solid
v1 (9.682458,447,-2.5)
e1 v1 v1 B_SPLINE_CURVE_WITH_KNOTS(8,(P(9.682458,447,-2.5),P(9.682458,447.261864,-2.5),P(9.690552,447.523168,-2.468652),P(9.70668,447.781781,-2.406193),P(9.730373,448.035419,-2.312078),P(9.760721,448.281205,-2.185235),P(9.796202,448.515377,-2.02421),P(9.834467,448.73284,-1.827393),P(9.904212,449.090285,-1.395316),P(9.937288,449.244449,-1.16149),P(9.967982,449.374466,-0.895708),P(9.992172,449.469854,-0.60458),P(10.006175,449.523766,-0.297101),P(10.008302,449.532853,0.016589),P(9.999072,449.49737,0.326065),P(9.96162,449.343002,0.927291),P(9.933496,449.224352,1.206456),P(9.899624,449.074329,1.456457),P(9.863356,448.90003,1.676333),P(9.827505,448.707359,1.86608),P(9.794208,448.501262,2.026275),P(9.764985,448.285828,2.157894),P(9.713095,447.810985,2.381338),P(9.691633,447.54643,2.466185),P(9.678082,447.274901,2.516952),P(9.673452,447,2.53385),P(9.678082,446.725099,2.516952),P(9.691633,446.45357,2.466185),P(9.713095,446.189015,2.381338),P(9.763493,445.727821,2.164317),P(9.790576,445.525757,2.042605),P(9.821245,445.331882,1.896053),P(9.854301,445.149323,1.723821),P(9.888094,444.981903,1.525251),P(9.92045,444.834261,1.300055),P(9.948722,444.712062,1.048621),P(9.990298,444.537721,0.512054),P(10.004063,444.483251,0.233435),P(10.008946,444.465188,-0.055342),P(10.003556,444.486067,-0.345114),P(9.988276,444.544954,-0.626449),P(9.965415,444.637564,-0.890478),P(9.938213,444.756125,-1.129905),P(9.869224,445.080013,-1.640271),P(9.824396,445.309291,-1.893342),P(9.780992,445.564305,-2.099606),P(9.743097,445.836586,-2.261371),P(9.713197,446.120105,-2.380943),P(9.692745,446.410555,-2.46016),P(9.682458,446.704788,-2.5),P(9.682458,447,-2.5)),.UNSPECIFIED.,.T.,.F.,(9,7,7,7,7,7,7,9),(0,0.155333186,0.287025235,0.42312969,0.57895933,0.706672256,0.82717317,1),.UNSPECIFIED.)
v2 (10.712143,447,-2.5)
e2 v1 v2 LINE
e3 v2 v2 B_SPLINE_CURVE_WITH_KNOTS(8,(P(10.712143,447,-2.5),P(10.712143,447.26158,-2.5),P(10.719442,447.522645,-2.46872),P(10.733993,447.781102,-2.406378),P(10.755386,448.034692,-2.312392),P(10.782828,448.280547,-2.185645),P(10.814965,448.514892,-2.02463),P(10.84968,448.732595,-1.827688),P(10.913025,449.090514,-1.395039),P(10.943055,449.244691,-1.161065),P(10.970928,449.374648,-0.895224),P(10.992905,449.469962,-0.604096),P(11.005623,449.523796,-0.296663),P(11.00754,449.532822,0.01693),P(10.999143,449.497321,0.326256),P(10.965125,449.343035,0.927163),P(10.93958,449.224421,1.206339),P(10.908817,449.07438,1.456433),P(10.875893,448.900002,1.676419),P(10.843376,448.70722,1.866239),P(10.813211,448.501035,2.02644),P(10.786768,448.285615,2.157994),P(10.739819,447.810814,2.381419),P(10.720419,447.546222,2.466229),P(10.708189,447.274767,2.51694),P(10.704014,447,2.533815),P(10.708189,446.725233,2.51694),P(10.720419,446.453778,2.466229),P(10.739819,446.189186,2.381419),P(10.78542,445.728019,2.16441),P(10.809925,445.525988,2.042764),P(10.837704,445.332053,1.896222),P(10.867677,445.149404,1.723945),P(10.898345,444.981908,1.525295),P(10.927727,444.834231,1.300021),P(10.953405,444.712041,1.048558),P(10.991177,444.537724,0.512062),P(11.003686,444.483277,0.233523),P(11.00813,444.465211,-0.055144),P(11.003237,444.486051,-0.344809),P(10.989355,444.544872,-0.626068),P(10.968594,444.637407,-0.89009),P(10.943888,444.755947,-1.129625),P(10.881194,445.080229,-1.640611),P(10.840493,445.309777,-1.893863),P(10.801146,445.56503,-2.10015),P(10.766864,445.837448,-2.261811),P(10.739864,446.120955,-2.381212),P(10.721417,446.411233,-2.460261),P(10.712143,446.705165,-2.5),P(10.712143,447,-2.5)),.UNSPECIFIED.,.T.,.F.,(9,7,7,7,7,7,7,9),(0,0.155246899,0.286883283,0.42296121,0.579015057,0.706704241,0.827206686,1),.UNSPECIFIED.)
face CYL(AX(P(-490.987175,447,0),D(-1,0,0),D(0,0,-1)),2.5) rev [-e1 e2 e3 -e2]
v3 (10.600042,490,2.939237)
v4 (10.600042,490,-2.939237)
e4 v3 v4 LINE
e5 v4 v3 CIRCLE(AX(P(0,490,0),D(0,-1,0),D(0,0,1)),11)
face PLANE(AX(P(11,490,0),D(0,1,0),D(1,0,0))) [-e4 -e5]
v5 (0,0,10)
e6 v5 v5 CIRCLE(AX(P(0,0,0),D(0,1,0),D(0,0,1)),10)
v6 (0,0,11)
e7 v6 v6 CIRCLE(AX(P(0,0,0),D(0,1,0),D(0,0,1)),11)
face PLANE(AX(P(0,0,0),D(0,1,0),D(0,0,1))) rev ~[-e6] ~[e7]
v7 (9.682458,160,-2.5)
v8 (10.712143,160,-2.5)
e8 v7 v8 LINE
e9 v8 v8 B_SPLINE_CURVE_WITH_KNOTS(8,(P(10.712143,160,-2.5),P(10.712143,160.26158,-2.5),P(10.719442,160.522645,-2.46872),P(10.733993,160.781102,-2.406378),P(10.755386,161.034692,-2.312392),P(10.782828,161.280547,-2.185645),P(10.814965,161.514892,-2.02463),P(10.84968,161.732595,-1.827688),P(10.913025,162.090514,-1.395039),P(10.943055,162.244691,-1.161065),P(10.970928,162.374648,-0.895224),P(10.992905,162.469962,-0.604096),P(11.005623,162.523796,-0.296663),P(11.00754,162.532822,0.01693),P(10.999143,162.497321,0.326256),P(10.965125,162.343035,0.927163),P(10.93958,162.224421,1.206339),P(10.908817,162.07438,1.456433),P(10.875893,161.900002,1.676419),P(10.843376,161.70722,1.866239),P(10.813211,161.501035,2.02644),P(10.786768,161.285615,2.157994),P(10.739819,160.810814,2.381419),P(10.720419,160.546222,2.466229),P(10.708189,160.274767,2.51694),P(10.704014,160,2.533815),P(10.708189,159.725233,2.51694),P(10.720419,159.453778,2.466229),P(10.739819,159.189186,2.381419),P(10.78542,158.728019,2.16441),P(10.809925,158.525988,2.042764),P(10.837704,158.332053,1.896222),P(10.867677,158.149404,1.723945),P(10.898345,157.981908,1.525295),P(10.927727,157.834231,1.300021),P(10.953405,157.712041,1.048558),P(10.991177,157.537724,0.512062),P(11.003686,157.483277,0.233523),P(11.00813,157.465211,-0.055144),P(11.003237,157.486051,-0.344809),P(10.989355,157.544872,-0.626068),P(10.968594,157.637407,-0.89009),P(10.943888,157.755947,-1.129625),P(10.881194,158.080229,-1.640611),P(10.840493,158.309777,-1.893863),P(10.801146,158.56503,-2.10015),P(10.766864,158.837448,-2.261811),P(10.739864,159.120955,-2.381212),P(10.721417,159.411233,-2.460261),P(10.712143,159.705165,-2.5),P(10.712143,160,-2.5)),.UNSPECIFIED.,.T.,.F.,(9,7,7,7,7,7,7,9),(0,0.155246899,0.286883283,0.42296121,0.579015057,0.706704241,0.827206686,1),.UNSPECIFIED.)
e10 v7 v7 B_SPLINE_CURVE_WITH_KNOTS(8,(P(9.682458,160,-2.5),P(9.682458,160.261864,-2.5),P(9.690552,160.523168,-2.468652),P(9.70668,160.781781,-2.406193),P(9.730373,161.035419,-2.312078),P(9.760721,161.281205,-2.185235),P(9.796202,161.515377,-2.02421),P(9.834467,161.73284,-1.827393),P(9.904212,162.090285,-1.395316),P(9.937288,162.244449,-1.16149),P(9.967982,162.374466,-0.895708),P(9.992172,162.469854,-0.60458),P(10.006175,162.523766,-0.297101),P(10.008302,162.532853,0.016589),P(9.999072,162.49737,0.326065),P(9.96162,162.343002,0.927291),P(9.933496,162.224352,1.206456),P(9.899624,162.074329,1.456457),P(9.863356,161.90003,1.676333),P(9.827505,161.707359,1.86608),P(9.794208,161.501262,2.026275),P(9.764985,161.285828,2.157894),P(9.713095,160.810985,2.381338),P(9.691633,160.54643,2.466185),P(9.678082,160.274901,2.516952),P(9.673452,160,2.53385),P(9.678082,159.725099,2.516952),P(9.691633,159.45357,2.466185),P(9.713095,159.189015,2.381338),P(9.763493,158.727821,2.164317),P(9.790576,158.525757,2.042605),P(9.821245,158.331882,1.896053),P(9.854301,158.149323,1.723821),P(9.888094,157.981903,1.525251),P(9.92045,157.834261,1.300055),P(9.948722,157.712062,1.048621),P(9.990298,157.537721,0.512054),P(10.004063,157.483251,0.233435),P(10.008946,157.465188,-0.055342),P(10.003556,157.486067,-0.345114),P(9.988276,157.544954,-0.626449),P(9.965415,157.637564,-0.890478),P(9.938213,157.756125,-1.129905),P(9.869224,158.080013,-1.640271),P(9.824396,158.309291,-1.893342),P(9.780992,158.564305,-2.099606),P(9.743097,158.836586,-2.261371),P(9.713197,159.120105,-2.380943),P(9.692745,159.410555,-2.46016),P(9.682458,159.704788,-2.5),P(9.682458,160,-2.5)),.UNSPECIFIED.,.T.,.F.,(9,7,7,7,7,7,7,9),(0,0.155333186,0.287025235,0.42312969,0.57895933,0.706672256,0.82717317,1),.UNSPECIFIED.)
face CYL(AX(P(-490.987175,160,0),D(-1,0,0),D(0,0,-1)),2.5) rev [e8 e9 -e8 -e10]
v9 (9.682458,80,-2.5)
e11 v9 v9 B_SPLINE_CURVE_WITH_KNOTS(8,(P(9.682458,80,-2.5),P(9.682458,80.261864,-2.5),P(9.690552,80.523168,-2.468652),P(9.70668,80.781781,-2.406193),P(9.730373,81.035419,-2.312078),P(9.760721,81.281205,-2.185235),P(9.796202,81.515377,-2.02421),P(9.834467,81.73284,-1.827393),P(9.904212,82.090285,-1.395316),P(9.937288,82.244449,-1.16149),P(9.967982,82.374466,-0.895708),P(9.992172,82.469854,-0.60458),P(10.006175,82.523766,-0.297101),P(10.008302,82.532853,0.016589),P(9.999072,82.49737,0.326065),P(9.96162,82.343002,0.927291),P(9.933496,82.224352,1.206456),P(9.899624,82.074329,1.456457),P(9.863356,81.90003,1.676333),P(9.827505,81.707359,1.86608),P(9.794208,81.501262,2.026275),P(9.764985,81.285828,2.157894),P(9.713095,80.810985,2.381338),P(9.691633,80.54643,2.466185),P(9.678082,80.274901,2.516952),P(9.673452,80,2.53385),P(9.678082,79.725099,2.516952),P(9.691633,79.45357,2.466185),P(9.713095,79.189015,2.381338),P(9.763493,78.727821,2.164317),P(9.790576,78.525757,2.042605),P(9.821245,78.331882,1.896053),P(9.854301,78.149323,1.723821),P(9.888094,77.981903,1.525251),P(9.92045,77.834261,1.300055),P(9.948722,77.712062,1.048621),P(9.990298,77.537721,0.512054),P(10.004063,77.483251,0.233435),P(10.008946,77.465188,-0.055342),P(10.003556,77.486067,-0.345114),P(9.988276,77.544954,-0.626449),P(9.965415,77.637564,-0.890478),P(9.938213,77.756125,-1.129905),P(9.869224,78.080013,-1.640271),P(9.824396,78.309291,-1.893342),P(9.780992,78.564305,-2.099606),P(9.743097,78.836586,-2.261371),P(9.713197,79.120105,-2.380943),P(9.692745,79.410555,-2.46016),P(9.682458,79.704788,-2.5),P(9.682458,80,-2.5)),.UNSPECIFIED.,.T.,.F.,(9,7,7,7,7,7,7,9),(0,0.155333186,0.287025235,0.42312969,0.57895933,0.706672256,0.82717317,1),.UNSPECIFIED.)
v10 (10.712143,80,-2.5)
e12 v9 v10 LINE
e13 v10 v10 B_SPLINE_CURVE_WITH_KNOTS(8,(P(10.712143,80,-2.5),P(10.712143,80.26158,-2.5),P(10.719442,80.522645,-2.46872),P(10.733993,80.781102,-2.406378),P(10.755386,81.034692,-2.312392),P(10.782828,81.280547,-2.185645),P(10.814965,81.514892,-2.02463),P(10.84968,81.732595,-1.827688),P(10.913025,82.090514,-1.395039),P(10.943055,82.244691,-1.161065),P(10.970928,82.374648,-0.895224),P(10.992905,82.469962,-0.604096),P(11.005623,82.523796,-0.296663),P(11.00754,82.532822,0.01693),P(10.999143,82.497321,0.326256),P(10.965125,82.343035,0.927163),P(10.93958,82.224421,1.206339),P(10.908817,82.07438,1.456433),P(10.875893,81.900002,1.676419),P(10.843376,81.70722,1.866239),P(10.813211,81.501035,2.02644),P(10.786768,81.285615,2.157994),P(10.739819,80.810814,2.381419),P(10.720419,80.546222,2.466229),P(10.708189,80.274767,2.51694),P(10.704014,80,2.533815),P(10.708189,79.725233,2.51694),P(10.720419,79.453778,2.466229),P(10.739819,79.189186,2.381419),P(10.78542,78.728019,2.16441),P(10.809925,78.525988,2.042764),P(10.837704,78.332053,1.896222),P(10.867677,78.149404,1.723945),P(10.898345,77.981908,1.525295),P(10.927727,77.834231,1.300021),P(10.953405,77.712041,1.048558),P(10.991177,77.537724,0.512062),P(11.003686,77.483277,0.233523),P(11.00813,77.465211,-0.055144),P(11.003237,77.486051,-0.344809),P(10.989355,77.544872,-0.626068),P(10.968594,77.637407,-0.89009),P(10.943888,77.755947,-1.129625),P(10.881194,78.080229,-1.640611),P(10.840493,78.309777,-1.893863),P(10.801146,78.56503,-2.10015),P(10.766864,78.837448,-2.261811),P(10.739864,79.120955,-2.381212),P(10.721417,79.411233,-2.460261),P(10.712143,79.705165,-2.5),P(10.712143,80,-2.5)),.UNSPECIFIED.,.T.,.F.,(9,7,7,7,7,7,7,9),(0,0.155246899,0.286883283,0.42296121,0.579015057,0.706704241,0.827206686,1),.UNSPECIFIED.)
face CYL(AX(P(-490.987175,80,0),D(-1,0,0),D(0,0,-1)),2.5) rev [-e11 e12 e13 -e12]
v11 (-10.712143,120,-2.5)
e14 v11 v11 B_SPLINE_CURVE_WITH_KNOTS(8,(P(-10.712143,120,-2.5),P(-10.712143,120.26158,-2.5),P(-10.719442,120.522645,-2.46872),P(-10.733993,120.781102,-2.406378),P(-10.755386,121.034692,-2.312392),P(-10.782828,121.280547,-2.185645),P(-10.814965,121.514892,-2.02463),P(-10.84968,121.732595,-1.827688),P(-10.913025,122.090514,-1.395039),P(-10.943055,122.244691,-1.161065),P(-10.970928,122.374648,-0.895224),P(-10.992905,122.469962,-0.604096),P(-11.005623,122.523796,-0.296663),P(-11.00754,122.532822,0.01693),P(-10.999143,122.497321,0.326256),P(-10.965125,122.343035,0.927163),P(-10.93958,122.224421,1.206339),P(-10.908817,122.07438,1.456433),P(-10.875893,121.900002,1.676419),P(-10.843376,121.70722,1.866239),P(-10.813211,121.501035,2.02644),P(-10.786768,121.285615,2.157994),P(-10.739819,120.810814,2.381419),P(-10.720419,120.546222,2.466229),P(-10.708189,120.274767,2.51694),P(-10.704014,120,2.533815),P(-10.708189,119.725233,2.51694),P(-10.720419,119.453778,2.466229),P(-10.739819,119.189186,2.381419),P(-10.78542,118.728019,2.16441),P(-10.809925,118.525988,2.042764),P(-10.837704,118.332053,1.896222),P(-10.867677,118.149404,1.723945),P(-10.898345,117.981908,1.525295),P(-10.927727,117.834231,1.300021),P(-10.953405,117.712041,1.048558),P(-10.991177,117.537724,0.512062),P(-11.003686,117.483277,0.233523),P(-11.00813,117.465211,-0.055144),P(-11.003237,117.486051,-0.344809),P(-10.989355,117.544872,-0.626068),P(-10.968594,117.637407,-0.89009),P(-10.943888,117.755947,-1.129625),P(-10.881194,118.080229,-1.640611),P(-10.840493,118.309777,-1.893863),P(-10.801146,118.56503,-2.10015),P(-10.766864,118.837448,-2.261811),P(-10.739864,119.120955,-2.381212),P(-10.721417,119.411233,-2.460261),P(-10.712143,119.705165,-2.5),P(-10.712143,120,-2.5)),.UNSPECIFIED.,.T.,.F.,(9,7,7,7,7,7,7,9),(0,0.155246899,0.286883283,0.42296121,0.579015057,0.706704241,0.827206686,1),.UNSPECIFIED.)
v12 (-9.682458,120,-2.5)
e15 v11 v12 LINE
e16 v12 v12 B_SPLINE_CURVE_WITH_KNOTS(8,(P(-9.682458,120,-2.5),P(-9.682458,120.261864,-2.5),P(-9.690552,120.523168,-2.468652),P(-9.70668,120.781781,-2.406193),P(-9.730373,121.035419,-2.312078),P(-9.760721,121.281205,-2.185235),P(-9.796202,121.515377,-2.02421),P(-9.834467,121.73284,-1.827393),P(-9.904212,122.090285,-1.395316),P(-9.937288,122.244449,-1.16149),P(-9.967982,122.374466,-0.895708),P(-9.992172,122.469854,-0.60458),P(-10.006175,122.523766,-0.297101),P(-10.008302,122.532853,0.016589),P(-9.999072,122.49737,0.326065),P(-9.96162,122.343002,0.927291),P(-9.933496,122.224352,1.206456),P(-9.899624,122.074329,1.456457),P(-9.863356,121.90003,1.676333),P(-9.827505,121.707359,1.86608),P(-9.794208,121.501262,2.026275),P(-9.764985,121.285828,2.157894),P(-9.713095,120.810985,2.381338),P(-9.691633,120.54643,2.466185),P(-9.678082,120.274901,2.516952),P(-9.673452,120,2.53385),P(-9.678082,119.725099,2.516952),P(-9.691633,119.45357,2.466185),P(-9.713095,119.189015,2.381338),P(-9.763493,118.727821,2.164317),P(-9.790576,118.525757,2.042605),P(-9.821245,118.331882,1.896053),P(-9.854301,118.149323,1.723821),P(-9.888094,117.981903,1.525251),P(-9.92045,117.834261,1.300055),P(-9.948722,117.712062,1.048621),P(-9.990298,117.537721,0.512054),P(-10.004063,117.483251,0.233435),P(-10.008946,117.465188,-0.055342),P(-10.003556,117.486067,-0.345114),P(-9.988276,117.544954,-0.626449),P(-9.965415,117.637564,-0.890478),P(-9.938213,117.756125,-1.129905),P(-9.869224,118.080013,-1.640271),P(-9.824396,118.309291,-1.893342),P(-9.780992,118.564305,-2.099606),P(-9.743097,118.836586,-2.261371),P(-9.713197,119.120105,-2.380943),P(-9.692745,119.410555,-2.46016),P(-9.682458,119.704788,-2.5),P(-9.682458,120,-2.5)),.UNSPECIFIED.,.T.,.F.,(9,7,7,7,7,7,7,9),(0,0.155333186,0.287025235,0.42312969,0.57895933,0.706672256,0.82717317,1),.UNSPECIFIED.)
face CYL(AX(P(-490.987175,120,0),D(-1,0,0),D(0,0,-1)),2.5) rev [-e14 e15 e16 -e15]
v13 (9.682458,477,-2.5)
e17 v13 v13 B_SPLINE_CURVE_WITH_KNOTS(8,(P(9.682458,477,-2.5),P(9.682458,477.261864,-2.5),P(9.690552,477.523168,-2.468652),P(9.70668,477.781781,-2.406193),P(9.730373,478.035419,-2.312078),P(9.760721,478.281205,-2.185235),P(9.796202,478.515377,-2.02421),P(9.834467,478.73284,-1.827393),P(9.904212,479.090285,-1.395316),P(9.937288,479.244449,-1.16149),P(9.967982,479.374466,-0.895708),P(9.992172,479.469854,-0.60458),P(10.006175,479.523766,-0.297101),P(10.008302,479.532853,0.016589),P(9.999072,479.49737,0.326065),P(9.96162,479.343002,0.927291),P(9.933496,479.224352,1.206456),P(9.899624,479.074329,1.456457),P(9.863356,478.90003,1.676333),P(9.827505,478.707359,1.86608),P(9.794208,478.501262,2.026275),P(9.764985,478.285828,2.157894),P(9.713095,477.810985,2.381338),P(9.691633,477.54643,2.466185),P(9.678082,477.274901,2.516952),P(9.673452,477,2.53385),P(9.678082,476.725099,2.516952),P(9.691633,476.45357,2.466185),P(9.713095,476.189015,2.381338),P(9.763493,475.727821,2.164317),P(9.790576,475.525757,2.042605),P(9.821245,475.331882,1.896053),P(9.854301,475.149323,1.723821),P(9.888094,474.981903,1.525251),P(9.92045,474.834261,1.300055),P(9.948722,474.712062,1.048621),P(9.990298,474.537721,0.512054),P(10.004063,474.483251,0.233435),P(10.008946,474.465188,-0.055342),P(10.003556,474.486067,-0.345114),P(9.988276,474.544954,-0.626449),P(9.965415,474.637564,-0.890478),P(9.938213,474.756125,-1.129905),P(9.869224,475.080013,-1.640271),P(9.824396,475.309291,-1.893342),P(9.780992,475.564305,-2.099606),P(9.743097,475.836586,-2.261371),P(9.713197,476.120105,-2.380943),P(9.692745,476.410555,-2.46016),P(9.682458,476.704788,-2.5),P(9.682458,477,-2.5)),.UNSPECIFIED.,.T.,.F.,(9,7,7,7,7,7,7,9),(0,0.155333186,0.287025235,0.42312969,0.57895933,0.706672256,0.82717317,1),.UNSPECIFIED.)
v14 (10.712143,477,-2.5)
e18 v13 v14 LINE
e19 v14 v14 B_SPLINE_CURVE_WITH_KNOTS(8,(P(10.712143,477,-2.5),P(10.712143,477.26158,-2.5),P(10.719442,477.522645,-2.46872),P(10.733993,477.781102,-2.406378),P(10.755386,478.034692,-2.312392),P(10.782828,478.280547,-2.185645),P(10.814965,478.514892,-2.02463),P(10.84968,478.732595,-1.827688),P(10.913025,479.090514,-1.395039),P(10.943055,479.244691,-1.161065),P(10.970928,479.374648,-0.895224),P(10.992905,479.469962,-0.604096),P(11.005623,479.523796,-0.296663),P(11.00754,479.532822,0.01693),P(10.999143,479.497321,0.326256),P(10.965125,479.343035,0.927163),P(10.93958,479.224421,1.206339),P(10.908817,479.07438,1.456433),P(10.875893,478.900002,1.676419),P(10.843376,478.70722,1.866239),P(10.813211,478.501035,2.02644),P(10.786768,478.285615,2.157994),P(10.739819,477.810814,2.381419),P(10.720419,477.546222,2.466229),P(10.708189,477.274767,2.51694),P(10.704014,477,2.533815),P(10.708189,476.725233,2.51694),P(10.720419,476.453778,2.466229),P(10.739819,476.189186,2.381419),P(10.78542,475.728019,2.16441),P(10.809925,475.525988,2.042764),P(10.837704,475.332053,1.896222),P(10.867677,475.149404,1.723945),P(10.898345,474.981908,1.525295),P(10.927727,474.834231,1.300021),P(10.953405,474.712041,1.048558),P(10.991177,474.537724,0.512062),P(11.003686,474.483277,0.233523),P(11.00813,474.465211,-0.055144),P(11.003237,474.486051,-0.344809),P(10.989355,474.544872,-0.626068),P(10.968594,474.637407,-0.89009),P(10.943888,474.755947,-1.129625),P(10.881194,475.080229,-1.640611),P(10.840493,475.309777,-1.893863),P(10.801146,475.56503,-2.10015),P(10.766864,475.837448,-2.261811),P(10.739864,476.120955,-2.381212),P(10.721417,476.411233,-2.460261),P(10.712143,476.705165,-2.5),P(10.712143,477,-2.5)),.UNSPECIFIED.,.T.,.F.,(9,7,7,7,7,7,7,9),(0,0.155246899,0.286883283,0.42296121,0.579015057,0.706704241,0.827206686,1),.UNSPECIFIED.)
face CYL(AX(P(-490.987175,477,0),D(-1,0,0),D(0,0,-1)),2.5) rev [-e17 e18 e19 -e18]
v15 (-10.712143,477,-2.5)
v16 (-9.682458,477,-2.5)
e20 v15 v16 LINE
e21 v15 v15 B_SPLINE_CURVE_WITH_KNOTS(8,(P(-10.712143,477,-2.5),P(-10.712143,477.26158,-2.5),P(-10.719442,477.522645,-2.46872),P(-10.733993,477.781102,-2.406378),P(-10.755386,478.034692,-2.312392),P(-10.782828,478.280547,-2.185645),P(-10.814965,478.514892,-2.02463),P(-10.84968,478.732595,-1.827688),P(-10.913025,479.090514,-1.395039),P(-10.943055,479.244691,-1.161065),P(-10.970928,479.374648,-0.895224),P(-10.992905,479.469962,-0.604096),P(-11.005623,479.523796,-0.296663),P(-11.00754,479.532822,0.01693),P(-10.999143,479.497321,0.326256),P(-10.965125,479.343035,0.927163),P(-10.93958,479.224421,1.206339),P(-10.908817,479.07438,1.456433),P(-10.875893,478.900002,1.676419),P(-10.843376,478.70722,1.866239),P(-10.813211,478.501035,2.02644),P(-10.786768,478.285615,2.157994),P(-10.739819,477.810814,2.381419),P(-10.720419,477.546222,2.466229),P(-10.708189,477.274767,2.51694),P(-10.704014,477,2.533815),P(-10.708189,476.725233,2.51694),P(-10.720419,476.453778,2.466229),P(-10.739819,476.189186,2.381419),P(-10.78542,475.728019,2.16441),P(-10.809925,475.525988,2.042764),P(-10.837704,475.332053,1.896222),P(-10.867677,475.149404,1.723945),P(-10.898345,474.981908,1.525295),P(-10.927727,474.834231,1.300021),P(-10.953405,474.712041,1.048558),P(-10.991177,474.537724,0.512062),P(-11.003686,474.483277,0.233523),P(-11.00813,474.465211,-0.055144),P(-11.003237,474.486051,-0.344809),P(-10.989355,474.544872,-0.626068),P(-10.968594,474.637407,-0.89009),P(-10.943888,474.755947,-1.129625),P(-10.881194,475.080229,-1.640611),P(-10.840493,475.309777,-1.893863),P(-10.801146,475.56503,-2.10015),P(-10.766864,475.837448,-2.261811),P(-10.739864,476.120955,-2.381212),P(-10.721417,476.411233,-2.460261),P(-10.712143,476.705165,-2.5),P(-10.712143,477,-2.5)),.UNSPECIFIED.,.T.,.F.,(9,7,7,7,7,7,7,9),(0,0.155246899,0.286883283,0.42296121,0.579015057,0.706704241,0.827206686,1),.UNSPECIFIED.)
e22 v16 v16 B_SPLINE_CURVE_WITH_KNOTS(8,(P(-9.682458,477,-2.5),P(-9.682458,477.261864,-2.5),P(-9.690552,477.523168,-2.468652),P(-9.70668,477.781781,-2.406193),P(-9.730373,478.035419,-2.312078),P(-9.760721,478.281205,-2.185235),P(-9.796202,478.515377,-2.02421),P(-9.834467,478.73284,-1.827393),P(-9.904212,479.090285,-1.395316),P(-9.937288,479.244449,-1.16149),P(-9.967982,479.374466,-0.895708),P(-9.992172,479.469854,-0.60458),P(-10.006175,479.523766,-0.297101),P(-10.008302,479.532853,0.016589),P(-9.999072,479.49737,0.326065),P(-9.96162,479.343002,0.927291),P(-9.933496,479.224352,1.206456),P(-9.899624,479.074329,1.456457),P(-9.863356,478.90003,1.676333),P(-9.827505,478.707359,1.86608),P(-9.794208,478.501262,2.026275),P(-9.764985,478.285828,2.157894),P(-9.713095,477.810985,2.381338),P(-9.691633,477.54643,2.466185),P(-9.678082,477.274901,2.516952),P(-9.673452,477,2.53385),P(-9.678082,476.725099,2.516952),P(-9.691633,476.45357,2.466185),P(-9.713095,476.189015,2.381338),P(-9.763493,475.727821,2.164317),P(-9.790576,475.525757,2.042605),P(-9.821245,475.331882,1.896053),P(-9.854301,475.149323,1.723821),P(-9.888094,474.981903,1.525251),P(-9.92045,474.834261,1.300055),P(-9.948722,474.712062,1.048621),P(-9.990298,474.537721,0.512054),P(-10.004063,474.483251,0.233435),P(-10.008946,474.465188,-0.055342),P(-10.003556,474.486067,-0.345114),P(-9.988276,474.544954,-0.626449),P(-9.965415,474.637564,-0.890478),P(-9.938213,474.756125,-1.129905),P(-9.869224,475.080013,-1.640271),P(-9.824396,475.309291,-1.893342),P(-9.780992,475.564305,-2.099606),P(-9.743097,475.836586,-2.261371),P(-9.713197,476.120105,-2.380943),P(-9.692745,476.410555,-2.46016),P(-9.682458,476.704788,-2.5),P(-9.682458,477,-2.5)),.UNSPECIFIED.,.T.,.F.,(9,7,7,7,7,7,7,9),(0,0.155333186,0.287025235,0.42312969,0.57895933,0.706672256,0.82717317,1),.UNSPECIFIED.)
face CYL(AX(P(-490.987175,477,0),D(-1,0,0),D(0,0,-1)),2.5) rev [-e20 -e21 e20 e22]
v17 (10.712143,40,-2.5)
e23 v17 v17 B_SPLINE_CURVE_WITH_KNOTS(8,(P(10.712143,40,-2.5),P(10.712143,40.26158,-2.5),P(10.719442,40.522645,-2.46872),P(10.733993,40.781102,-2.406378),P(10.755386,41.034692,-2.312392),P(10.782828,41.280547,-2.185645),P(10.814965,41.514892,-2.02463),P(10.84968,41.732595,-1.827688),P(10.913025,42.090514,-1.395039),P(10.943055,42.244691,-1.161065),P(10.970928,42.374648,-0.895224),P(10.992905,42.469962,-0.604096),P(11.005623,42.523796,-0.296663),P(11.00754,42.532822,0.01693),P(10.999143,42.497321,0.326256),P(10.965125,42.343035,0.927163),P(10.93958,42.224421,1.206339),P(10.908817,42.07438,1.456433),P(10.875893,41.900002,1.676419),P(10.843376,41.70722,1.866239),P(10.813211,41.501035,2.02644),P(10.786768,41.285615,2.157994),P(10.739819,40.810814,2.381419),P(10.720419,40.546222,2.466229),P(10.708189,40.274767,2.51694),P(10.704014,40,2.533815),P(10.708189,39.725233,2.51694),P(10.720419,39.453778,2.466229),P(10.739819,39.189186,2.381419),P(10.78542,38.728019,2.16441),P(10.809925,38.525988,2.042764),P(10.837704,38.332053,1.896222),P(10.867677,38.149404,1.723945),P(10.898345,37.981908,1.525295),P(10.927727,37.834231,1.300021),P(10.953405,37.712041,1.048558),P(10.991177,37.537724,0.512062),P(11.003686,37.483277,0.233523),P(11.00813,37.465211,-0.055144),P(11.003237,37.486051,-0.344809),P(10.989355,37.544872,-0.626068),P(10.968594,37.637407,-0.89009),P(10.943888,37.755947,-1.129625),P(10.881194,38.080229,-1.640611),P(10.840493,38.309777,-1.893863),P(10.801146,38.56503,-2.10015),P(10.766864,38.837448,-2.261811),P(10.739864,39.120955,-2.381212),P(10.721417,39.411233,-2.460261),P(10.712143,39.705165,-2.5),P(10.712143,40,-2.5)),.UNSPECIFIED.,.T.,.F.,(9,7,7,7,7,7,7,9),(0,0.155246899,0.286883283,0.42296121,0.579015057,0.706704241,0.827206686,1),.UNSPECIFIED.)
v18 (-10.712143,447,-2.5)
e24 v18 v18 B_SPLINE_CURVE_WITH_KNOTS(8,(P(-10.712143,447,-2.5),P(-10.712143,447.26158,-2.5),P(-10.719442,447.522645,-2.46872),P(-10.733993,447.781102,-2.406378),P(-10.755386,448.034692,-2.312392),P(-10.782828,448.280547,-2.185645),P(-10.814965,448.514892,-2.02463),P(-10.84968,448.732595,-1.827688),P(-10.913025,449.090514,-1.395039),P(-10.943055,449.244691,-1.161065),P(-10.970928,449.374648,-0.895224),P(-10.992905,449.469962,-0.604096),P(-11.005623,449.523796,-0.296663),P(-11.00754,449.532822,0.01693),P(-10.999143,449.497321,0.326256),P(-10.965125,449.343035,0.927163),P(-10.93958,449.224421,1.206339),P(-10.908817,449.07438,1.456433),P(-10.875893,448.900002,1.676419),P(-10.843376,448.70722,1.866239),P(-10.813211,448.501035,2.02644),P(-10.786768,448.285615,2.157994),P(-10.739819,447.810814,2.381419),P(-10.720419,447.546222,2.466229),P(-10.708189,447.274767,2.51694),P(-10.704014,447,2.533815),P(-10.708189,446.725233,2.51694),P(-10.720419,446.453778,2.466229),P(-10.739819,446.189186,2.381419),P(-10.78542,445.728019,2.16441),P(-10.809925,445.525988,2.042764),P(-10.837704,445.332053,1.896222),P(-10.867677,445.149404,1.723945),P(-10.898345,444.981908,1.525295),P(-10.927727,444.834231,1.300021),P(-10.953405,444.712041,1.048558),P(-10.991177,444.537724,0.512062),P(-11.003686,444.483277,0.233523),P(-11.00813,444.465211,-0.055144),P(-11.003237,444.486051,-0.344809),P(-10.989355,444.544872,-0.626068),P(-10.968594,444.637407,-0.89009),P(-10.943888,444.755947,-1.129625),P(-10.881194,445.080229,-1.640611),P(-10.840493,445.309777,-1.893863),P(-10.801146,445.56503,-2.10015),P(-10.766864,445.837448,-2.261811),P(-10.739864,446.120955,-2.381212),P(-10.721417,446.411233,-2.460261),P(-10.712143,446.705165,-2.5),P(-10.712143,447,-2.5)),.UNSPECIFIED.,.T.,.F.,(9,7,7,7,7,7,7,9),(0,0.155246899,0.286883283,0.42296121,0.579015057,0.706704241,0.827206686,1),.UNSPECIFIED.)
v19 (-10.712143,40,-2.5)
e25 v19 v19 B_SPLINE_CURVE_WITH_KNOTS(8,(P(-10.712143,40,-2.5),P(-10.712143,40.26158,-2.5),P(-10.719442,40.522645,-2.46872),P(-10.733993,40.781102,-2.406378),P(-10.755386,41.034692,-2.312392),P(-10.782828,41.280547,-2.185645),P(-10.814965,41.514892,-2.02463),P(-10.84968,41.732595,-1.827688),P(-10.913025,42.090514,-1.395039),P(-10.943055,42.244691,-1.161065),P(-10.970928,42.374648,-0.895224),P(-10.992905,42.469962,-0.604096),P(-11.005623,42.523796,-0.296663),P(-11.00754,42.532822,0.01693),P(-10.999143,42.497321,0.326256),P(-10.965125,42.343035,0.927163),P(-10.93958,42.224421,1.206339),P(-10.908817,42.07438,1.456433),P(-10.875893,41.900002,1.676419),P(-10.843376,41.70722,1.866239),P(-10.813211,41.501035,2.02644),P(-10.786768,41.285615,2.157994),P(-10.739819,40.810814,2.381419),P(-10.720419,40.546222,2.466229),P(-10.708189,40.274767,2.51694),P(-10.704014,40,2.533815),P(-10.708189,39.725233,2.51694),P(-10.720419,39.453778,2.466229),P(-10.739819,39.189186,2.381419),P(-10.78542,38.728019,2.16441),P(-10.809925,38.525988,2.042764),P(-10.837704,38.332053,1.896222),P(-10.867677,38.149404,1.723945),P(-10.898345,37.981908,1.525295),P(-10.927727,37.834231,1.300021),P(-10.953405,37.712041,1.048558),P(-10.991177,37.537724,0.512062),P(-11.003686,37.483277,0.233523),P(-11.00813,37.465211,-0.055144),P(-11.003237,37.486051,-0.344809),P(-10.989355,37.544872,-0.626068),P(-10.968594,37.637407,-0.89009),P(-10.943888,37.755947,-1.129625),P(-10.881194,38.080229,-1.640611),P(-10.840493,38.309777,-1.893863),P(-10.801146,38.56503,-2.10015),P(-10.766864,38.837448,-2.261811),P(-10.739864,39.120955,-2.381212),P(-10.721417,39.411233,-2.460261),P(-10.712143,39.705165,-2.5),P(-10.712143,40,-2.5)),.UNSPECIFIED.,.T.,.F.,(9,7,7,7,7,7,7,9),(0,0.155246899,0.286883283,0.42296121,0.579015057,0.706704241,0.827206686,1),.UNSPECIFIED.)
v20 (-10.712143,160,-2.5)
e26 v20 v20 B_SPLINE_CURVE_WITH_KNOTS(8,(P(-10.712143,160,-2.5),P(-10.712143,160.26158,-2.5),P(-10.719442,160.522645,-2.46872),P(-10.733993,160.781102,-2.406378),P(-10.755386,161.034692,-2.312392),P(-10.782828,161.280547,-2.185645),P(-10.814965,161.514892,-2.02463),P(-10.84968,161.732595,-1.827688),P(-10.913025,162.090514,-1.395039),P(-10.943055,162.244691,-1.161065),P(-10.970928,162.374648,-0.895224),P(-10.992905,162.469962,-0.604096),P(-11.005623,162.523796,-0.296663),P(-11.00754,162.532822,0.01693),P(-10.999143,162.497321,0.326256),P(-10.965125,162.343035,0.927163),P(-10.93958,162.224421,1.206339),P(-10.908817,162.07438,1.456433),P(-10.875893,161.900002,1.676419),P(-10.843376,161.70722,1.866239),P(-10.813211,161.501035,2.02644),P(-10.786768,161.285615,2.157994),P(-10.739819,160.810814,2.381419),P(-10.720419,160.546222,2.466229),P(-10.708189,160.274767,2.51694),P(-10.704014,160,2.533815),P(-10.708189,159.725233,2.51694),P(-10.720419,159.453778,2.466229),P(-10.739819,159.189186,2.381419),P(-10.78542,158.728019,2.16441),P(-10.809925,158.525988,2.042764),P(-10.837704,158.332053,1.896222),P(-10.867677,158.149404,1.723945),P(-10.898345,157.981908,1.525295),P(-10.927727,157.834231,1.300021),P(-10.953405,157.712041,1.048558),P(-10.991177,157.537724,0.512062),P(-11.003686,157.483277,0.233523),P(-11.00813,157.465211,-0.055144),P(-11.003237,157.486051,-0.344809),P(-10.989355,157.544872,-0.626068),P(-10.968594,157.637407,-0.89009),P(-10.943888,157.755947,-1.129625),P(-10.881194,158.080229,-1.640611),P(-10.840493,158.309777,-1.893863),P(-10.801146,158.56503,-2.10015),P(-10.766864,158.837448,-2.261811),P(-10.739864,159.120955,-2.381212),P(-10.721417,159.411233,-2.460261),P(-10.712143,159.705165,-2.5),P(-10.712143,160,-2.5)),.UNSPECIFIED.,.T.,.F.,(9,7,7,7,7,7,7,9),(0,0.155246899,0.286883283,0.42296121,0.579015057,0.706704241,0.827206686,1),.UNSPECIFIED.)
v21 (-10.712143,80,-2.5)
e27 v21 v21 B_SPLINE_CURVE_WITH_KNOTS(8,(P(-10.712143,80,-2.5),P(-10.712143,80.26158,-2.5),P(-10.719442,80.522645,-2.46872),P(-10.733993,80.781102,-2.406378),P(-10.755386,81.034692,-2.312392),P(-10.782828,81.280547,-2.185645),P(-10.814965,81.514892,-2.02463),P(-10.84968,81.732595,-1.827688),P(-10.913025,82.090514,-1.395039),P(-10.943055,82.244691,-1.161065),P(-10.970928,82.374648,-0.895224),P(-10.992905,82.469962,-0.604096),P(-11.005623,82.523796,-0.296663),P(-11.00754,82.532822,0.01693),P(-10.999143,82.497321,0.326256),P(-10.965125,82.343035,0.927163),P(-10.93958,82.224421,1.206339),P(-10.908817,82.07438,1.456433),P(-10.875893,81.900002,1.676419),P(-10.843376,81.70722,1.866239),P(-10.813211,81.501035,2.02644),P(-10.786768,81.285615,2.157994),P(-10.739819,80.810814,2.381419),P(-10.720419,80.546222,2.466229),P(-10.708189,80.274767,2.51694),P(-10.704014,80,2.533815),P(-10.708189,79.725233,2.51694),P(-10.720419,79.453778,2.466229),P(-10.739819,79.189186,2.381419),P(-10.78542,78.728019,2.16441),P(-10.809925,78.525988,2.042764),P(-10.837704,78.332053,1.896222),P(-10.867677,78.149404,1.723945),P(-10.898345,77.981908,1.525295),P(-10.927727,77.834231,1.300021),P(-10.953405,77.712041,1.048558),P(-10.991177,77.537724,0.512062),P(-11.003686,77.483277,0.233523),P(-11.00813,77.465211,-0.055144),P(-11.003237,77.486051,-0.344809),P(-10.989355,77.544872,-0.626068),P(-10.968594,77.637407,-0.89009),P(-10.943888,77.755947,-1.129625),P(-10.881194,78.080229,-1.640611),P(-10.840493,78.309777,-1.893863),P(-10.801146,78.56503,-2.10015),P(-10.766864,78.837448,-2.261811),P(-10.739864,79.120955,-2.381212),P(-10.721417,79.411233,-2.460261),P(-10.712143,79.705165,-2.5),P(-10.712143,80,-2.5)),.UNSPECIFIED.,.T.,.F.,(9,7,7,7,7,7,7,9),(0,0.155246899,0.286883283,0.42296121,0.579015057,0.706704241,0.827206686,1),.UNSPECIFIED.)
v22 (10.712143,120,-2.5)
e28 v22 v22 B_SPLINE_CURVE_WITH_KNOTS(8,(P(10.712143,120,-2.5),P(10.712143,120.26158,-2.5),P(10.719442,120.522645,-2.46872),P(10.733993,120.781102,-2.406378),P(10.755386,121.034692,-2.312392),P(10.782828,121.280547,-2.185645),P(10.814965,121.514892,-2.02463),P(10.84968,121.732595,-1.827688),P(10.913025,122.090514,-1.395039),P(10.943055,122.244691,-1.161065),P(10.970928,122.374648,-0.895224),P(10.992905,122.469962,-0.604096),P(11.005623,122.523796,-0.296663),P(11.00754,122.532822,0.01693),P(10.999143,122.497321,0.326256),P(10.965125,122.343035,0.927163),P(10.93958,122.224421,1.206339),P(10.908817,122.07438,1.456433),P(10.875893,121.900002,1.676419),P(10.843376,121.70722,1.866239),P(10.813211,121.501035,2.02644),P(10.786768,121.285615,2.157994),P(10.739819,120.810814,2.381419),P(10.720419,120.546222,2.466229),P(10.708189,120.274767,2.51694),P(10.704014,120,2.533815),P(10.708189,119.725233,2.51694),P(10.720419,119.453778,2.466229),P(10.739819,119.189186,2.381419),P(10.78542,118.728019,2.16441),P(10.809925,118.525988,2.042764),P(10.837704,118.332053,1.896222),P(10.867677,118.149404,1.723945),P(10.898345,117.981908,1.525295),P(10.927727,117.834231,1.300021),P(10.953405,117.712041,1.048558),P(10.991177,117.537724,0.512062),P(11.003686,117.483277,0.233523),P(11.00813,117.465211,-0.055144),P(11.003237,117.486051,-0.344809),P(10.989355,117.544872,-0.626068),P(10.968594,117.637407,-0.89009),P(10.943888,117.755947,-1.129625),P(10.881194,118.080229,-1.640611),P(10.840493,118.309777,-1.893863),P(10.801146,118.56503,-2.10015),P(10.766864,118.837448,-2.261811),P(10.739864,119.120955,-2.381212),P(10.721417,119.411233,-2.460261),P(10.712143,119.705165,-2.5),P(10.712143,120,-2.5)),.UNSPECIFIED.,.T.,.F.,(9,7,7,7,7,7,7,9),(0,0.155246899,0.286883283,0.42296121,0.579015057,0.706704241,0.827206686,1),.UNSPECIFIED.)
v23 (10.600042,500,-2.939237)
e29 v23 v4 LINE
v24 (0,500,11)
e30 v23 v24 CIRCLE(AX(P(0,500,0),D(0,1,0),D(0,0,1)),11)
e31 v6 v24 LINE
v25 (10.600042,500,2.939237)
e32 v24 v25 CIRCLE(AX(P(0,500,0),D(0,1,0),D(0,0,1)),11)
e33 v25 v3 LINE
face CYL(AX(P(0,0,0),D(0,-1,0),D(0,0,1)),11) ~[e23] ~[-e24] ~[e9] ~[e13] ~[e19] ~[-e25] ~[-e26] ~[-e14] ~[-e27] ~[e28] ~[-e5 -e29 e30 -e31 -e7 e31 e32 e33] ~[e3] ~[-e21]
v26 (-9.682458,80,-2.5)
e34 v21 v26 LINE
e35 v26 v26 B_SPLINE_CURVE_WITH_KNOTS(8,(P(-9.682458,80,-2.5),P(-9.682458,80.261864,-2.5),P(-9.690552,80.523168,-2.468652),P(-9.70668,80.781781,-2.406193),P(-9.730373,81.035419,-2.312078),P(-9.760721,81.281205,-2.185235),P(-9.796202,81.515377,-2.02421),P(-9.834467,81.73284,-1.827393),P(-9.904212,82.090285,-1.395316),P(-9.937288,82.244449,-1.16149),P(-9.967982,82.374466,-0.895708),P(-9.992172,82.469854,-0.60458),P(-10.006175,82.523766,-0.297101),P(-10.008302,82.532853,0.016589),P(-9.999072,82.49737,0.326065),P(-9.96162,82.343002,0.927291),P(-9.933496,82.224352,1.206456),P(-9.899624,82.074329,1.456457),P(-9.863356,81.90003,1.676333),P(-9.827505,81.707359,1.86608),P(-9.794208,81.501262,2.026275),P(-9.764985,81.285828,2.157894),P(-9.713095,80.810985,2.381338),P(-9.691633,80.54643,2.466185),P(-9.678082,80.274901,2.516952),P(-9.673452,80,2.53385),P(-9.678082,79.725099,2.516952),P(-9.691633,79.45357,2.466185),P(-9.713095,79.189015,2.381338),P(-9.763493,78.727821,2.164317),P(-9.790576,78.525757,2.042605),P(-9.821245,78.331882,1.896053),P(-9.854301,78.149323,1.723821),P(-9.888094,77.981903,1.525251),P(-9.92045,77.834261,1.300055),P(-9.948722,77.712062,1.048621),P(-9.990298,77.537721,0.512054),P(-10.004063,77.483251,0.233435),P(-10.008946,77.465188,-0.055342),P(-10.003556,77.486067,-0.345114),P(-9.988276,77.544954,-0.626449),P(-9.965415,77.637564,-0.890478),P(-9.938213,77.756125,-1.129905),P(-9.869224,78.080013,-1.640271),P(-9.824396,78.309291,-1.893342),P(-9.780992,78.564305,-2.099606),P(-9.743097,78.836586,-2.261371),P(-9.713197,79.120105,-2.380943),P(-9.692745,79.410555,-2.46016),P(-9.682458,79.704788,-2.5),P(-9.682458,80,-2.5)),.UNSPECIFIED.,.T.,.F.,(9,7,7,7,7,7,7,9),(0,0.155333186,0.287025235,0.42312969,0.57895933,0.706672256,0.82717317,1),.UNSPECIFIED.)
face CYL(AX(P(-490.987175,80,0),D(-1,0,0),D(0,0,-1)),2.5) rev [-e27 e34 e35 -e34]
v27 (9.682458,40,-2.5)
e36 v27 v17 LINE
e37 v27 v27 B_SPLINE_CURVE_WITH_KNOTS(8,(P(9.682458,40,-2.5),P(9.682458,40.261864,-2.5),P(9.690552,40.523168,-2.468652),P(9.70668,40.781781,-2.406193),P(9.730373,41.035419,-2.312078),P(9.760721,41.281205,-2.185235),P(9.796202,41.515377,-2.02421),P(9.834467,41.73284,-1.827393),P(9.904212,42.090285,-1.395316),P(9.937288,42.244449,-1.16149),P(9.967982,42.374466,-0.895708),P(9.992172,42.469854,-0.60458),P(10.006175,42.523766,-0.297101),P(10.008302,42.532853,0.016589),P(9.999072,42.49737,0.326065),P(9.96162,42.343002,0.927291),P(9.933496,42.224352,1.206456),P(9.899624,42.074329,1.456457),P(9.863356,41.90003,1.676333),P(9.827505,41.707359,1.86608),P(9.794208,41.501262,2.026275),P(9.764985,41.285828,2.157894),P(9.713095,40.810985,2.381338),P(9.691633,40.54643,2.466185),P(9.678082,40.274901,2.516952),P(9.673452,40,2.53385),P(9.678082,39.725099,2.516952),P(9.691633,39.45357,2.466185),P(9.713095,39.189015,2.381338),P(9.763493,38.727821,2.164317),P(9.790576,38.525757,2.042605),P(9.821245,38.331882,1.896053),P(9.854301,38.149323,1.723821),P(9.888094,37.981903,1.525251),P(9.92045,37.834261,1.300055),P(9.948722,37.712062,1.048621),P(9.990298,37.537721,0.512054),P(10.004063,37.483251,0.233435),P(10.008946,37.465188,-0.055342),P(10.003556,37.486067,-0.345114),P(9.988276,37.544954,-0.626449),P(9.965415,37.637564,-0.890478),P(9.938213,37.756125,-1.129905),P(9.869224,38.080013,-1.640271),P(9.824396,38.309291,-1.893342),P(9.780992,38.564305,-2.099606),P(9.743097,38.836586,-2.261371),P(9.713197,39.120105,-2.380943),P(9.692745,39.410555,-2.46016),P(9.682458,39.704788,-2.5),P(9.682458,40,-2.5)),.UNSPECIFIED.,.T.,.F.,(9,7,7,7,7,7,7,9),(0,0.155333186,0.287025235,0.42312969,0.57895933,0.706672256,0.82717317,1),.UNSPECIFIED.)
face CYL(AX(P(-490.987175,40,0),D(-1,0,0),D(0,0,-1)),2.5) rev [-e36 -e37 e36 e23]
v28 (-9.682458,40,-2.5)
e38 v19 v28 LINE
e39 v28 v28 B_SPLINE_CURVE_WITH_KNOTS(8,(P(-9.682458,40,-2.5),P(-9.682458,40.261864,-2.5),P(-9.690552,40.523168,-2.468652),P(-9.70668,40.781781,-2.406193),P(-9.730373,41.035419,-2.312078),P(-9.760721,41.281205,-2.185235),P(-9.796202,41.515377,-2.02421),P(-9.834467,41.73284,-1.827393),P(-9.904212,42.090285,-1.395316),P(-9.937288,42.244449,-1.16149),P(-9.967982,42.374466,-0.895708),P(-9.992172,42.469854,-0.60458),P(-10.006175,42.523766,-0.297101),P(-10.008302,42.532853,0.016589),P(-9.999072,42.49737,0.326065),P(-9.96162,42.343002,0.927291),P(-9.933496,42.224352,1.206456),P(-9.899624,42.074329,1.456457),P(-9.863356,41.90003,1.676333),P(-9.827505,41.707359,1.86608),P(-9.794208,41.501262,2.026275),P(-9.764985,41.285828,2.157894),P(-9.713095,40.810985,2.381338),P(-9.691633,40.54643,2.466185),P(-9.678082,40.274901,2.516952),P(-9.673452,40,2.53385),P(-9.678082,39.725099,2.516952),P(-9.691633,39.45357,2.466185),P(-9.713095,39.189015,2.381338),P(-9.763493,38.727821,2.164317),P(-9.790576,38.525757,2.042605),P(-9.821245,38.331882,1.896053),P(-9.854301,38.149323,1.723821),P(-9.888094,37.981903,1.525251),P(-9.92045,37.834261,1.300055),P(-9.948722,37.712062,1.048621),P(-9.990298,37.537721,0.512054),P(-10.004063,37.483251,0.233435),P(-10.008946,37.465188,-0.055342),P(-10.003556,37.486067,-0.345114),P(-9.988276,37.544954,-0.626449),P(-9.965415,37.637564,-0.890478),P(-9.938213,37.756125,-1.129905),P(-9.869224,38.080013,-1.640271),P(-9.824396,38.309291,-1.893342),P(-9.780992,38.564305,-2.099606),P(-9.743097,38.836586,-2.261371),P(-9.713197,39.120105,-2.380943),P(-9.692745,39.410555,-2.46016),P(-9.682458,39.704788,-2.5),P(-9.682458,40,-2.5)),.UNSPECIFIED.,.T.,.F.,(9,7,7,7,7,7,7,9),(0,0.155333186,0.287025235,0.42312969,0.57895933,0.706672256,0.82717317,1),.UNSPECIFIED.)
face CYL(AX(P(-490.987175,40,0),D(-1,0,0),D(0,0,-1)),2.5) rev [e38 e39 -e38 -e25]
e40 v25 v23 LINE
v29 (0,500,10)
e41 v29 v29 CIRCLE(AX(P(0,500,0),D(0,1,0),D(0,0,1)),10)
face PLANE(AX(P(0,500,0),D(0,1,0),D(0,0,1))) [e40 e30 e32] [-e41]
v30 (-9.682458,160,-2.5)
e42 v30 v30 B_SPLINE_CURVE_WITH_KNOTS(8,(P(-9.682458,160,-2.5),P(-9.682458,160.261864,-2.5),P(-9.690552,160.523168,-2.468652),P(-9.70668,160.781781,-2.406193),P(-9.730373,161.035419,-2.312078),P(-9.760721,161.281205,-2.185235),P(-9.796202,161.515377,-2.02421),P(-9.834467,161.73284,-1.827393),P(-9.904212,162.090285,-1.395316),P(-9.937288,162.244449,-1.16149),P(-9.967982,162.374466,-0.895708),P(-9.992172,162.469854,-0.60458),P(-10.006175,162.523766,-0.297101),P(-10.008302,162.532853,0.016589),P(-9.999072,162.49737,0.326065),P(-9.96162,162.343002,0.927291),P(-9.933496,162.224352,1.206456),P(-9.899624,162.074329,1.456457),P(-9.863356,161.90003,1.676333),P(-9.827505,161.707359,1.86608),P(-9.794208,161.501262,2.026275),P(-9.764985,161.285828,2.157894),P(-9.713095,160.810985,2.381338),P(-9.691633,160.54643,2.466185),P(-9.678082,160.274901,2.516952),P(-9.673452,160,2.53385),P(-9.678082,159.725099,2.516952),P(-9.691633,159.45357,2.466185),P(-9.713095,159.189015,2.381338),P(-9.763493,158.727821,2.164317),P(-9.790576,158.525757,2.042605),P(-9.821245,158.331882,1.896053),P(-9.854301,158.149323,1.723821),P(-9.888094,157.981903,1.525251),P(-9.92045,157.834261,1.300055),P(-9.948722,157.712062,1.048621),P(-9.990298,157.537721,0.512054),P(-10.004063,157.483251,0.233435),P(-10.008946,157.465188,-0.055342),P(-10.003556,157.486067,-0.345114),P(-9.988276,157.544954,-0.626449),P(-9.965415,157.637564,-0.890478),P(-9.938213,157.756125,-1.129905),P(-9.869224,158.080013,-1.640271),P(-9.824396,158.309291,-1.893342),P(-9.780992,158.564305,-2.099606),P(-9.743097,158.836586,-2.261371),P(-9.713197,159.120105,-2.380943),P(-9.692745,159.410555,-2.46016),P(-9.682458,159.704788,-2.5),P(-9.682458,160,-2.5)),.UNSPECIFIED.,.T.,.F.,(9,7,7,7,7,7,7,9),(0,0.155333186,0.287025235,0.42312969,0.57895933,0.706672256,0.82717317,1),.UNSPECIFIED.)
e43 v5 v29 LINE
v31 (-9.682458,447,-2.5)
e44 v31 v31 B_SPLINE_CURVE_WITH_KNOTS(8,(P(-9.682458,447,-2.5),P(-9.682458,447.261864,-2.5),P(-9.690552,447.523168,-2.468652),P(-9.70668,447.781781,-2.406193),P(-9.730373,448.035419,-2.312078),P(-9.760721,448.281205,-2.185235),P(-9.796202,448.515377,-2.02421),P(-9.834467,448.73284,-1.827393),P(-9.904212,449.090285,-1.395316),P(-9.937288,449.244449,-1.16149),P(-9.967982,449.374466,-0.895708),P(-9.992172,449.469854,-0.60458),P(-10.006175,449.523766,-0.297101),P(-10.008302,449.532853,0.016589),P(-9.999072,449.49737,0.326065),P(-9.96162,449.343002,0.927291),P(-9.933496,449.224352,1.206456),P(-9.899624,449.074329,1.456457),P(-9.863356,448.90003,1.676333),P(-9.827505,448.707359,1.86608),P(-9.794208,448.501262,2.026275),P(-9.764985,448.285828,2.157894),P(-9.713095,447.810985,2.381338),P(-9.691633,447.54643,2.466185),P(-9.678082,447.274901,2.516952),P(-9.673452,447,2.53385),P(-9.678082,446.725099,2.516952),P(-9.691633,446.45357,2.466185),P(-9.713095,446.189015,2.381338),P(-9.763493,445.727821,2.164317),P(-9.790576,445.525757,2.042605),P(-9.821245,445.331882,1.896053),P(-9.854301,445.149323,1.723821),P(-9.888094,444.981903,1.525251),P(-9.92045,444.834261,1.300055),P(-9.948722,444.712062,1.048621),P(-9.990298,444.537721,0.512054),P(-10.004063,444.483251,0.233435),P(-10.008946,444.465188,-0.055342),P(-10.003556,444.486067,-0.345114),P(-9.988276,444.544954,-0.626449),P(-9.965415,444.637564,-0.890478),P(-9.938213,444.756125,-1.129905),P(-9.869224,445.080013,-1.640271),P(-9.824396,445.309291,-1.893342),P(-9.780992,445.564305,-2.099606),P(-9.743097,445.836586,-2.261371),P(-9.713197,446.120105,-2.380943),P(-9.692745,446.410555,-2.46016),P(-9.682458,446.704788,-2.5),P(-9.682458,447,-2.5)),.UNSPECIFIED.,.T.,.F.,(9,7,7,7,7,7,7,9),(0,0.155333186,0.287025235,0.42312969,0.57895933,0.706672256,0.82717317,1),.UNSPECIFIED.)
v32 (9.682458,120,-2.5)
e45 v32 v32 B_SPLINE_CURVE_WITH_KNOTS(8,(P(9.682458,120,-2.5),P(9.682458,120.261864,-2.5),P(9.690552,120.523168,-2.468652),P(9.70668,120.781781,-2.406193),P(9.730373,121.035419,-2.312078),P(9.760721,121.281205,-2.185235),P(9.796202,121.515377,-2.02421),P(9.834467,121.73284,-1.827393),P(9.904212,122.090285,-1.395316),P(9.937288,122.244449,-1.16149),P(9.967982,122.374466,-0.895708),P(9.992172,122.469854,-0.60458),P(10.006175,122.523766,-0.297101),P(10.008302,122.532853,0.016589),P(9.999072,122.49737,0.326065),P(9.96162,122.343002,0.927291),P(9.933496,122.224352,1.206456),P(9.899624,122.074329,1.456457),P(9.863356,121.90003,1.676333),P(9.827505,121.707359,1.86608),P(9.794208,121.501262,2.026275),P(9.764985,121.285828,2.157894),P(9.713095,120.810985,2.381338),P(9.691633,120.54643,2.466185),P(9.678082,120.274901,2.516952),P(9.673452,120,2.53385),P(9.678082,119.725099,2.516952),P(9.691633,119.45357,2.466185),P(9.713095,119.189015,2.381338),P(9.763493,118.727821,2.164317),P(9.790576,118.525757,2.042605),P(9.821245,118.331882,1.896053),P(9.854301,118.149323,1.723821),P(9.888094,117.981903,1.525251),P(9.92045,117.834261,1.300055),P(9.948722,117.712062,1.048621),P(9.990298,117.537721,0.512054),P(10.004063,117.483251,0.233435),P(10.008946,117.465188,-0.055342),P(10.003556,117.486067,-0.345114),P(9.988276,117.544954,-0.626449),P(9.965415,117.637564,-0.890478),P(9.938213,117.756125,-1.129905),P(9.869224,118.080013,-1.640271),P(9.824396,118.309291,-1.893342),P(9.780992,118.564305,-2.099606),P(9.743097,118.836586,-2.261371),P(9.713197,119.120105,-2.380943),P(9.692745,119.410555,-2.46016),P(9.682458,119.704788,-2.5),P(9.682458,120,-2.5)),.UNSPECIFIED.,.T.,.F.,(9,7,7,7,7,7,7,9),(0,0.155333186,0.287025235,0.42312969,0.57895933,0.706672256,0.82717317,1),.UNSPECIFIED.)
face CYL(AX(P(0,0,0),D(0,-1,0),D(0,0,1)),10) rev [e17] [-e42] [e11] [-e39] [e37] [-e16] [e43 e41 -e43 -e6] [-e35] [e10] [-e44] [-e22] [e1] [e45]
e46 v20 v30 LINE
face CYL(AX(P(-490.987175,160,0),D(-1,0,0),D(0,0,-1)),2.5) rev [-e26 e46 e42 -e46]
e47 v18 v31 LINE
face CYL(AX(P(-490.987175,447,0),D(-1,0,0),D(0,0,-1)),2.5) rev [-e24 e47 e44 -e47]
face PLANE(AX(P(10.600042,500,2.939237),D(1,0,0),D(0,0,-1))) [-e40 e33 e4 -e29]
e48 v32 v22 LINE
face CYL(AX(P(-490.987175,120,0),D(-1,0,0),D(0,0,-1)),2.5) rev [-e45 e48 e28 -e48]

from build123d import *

# Parameters (mm, degrees)
SKETCH1_R               = 11
SKETCH1_R_2             = 10
BOSS_EXTRUDE1_DEPTH     = 500
SKETCH2_W               = 0.79991629
SKETCH2_H               = 5.878473502
CUT_EXTRUDE1_DEPTH      = 10
CUT_EXTRUDE2_DEPTH      = 501.587216984
CUT_EXTRUDE2_DEPTH_BACK = 501.587216984
SKETCH3_R               = 2.5
CUT_EXTRUDE3_DEPTH      = 501.587217091
CUT_EXTRUDE3_DEPTH_BACK = 501.587217091
SKETCH5_R               = 2.5


with BuildPart() as part:
    # Sketch1 → Boss-Extrude1 (new body)
    with BuildSketch(Plane(origin=(0, 0, 0), x_dir=(1, 0, 0), z_dir=(0, 1, 0))):
        with Locations(Location((0, 0, 0), (0, 0, 270))):
            Circle(SKETCH1_R)
        with Locations(Location((0, 0, 0), (0, 0, 270))):
            Circle(SKETCH1_R_2, mode=Mode.SUBTRACT)
    extrude(amount=BOSS_EXTRUDE1_DEPTH)

    # Sketch2 → Cut-Extrude1 (cut)
    with BuildSketch(Plane(origin=(0, 500, 0), x_dir=(1, 0, 0), z_dir=(0, 1, 0))):
        with Locations((11, 0)):
            Rectangle(SKETCH2_W, SKETCH2_H)
    extrude(amount=-CUT_EXTRUDE1_DEPTH, mode=Mode.SUBTRACT)

    # Sketch3 → Cut-Extrude2 (cut, two sides: drawn at the far end of the back side and taken through both)
    with BuildSketch(Plane(origin=(10.600041855, 0, 0), x_dir=(0, 0, -1), z_dir=(1, 0, 0)).offset(-CUT_EXTRUDE2_DEPTH_BACK)):
        with Locations((0, 477)):
            Circle(SKETCH3_R)
        with Locations((0, 447)):
            Circle(SKETCH3_R)
    extrude(amount=CUT_EXTRUDE2_DEPTH + CUT_EXTRUDE2_DEPTH_BACK, mode=Mode.SUBTRACT)

    # Sketch5 → Cut-Extrude3 (cut, two sides: drawn at the far end of the back side and taken through both)
    with BuildSketch(Plane(origin=(10.600041855, 0, 0), x_dir=(0, 0, -1), z_dir=(1, 0, 0)).offset(-CUT_EXTRUDE3_DEPTH_BACK)):
        with Locations((0, 40)):
            Circle(SKETCH5_R)
        with Locations((0, 80)):
            Circle(SKETCH5_R)
        with Locations((0, 120)):
            Circle(SKETCH5_R)
        with Locations((0, 160)):
            Circle(SKETCH5_R)
    extrude(amount=CUT_EXTRUDE3_DEPTH + CUT_EXTRUDE3_DEPTH_BACK, mode=Mode.SUBTRACT)


solid = part.part
